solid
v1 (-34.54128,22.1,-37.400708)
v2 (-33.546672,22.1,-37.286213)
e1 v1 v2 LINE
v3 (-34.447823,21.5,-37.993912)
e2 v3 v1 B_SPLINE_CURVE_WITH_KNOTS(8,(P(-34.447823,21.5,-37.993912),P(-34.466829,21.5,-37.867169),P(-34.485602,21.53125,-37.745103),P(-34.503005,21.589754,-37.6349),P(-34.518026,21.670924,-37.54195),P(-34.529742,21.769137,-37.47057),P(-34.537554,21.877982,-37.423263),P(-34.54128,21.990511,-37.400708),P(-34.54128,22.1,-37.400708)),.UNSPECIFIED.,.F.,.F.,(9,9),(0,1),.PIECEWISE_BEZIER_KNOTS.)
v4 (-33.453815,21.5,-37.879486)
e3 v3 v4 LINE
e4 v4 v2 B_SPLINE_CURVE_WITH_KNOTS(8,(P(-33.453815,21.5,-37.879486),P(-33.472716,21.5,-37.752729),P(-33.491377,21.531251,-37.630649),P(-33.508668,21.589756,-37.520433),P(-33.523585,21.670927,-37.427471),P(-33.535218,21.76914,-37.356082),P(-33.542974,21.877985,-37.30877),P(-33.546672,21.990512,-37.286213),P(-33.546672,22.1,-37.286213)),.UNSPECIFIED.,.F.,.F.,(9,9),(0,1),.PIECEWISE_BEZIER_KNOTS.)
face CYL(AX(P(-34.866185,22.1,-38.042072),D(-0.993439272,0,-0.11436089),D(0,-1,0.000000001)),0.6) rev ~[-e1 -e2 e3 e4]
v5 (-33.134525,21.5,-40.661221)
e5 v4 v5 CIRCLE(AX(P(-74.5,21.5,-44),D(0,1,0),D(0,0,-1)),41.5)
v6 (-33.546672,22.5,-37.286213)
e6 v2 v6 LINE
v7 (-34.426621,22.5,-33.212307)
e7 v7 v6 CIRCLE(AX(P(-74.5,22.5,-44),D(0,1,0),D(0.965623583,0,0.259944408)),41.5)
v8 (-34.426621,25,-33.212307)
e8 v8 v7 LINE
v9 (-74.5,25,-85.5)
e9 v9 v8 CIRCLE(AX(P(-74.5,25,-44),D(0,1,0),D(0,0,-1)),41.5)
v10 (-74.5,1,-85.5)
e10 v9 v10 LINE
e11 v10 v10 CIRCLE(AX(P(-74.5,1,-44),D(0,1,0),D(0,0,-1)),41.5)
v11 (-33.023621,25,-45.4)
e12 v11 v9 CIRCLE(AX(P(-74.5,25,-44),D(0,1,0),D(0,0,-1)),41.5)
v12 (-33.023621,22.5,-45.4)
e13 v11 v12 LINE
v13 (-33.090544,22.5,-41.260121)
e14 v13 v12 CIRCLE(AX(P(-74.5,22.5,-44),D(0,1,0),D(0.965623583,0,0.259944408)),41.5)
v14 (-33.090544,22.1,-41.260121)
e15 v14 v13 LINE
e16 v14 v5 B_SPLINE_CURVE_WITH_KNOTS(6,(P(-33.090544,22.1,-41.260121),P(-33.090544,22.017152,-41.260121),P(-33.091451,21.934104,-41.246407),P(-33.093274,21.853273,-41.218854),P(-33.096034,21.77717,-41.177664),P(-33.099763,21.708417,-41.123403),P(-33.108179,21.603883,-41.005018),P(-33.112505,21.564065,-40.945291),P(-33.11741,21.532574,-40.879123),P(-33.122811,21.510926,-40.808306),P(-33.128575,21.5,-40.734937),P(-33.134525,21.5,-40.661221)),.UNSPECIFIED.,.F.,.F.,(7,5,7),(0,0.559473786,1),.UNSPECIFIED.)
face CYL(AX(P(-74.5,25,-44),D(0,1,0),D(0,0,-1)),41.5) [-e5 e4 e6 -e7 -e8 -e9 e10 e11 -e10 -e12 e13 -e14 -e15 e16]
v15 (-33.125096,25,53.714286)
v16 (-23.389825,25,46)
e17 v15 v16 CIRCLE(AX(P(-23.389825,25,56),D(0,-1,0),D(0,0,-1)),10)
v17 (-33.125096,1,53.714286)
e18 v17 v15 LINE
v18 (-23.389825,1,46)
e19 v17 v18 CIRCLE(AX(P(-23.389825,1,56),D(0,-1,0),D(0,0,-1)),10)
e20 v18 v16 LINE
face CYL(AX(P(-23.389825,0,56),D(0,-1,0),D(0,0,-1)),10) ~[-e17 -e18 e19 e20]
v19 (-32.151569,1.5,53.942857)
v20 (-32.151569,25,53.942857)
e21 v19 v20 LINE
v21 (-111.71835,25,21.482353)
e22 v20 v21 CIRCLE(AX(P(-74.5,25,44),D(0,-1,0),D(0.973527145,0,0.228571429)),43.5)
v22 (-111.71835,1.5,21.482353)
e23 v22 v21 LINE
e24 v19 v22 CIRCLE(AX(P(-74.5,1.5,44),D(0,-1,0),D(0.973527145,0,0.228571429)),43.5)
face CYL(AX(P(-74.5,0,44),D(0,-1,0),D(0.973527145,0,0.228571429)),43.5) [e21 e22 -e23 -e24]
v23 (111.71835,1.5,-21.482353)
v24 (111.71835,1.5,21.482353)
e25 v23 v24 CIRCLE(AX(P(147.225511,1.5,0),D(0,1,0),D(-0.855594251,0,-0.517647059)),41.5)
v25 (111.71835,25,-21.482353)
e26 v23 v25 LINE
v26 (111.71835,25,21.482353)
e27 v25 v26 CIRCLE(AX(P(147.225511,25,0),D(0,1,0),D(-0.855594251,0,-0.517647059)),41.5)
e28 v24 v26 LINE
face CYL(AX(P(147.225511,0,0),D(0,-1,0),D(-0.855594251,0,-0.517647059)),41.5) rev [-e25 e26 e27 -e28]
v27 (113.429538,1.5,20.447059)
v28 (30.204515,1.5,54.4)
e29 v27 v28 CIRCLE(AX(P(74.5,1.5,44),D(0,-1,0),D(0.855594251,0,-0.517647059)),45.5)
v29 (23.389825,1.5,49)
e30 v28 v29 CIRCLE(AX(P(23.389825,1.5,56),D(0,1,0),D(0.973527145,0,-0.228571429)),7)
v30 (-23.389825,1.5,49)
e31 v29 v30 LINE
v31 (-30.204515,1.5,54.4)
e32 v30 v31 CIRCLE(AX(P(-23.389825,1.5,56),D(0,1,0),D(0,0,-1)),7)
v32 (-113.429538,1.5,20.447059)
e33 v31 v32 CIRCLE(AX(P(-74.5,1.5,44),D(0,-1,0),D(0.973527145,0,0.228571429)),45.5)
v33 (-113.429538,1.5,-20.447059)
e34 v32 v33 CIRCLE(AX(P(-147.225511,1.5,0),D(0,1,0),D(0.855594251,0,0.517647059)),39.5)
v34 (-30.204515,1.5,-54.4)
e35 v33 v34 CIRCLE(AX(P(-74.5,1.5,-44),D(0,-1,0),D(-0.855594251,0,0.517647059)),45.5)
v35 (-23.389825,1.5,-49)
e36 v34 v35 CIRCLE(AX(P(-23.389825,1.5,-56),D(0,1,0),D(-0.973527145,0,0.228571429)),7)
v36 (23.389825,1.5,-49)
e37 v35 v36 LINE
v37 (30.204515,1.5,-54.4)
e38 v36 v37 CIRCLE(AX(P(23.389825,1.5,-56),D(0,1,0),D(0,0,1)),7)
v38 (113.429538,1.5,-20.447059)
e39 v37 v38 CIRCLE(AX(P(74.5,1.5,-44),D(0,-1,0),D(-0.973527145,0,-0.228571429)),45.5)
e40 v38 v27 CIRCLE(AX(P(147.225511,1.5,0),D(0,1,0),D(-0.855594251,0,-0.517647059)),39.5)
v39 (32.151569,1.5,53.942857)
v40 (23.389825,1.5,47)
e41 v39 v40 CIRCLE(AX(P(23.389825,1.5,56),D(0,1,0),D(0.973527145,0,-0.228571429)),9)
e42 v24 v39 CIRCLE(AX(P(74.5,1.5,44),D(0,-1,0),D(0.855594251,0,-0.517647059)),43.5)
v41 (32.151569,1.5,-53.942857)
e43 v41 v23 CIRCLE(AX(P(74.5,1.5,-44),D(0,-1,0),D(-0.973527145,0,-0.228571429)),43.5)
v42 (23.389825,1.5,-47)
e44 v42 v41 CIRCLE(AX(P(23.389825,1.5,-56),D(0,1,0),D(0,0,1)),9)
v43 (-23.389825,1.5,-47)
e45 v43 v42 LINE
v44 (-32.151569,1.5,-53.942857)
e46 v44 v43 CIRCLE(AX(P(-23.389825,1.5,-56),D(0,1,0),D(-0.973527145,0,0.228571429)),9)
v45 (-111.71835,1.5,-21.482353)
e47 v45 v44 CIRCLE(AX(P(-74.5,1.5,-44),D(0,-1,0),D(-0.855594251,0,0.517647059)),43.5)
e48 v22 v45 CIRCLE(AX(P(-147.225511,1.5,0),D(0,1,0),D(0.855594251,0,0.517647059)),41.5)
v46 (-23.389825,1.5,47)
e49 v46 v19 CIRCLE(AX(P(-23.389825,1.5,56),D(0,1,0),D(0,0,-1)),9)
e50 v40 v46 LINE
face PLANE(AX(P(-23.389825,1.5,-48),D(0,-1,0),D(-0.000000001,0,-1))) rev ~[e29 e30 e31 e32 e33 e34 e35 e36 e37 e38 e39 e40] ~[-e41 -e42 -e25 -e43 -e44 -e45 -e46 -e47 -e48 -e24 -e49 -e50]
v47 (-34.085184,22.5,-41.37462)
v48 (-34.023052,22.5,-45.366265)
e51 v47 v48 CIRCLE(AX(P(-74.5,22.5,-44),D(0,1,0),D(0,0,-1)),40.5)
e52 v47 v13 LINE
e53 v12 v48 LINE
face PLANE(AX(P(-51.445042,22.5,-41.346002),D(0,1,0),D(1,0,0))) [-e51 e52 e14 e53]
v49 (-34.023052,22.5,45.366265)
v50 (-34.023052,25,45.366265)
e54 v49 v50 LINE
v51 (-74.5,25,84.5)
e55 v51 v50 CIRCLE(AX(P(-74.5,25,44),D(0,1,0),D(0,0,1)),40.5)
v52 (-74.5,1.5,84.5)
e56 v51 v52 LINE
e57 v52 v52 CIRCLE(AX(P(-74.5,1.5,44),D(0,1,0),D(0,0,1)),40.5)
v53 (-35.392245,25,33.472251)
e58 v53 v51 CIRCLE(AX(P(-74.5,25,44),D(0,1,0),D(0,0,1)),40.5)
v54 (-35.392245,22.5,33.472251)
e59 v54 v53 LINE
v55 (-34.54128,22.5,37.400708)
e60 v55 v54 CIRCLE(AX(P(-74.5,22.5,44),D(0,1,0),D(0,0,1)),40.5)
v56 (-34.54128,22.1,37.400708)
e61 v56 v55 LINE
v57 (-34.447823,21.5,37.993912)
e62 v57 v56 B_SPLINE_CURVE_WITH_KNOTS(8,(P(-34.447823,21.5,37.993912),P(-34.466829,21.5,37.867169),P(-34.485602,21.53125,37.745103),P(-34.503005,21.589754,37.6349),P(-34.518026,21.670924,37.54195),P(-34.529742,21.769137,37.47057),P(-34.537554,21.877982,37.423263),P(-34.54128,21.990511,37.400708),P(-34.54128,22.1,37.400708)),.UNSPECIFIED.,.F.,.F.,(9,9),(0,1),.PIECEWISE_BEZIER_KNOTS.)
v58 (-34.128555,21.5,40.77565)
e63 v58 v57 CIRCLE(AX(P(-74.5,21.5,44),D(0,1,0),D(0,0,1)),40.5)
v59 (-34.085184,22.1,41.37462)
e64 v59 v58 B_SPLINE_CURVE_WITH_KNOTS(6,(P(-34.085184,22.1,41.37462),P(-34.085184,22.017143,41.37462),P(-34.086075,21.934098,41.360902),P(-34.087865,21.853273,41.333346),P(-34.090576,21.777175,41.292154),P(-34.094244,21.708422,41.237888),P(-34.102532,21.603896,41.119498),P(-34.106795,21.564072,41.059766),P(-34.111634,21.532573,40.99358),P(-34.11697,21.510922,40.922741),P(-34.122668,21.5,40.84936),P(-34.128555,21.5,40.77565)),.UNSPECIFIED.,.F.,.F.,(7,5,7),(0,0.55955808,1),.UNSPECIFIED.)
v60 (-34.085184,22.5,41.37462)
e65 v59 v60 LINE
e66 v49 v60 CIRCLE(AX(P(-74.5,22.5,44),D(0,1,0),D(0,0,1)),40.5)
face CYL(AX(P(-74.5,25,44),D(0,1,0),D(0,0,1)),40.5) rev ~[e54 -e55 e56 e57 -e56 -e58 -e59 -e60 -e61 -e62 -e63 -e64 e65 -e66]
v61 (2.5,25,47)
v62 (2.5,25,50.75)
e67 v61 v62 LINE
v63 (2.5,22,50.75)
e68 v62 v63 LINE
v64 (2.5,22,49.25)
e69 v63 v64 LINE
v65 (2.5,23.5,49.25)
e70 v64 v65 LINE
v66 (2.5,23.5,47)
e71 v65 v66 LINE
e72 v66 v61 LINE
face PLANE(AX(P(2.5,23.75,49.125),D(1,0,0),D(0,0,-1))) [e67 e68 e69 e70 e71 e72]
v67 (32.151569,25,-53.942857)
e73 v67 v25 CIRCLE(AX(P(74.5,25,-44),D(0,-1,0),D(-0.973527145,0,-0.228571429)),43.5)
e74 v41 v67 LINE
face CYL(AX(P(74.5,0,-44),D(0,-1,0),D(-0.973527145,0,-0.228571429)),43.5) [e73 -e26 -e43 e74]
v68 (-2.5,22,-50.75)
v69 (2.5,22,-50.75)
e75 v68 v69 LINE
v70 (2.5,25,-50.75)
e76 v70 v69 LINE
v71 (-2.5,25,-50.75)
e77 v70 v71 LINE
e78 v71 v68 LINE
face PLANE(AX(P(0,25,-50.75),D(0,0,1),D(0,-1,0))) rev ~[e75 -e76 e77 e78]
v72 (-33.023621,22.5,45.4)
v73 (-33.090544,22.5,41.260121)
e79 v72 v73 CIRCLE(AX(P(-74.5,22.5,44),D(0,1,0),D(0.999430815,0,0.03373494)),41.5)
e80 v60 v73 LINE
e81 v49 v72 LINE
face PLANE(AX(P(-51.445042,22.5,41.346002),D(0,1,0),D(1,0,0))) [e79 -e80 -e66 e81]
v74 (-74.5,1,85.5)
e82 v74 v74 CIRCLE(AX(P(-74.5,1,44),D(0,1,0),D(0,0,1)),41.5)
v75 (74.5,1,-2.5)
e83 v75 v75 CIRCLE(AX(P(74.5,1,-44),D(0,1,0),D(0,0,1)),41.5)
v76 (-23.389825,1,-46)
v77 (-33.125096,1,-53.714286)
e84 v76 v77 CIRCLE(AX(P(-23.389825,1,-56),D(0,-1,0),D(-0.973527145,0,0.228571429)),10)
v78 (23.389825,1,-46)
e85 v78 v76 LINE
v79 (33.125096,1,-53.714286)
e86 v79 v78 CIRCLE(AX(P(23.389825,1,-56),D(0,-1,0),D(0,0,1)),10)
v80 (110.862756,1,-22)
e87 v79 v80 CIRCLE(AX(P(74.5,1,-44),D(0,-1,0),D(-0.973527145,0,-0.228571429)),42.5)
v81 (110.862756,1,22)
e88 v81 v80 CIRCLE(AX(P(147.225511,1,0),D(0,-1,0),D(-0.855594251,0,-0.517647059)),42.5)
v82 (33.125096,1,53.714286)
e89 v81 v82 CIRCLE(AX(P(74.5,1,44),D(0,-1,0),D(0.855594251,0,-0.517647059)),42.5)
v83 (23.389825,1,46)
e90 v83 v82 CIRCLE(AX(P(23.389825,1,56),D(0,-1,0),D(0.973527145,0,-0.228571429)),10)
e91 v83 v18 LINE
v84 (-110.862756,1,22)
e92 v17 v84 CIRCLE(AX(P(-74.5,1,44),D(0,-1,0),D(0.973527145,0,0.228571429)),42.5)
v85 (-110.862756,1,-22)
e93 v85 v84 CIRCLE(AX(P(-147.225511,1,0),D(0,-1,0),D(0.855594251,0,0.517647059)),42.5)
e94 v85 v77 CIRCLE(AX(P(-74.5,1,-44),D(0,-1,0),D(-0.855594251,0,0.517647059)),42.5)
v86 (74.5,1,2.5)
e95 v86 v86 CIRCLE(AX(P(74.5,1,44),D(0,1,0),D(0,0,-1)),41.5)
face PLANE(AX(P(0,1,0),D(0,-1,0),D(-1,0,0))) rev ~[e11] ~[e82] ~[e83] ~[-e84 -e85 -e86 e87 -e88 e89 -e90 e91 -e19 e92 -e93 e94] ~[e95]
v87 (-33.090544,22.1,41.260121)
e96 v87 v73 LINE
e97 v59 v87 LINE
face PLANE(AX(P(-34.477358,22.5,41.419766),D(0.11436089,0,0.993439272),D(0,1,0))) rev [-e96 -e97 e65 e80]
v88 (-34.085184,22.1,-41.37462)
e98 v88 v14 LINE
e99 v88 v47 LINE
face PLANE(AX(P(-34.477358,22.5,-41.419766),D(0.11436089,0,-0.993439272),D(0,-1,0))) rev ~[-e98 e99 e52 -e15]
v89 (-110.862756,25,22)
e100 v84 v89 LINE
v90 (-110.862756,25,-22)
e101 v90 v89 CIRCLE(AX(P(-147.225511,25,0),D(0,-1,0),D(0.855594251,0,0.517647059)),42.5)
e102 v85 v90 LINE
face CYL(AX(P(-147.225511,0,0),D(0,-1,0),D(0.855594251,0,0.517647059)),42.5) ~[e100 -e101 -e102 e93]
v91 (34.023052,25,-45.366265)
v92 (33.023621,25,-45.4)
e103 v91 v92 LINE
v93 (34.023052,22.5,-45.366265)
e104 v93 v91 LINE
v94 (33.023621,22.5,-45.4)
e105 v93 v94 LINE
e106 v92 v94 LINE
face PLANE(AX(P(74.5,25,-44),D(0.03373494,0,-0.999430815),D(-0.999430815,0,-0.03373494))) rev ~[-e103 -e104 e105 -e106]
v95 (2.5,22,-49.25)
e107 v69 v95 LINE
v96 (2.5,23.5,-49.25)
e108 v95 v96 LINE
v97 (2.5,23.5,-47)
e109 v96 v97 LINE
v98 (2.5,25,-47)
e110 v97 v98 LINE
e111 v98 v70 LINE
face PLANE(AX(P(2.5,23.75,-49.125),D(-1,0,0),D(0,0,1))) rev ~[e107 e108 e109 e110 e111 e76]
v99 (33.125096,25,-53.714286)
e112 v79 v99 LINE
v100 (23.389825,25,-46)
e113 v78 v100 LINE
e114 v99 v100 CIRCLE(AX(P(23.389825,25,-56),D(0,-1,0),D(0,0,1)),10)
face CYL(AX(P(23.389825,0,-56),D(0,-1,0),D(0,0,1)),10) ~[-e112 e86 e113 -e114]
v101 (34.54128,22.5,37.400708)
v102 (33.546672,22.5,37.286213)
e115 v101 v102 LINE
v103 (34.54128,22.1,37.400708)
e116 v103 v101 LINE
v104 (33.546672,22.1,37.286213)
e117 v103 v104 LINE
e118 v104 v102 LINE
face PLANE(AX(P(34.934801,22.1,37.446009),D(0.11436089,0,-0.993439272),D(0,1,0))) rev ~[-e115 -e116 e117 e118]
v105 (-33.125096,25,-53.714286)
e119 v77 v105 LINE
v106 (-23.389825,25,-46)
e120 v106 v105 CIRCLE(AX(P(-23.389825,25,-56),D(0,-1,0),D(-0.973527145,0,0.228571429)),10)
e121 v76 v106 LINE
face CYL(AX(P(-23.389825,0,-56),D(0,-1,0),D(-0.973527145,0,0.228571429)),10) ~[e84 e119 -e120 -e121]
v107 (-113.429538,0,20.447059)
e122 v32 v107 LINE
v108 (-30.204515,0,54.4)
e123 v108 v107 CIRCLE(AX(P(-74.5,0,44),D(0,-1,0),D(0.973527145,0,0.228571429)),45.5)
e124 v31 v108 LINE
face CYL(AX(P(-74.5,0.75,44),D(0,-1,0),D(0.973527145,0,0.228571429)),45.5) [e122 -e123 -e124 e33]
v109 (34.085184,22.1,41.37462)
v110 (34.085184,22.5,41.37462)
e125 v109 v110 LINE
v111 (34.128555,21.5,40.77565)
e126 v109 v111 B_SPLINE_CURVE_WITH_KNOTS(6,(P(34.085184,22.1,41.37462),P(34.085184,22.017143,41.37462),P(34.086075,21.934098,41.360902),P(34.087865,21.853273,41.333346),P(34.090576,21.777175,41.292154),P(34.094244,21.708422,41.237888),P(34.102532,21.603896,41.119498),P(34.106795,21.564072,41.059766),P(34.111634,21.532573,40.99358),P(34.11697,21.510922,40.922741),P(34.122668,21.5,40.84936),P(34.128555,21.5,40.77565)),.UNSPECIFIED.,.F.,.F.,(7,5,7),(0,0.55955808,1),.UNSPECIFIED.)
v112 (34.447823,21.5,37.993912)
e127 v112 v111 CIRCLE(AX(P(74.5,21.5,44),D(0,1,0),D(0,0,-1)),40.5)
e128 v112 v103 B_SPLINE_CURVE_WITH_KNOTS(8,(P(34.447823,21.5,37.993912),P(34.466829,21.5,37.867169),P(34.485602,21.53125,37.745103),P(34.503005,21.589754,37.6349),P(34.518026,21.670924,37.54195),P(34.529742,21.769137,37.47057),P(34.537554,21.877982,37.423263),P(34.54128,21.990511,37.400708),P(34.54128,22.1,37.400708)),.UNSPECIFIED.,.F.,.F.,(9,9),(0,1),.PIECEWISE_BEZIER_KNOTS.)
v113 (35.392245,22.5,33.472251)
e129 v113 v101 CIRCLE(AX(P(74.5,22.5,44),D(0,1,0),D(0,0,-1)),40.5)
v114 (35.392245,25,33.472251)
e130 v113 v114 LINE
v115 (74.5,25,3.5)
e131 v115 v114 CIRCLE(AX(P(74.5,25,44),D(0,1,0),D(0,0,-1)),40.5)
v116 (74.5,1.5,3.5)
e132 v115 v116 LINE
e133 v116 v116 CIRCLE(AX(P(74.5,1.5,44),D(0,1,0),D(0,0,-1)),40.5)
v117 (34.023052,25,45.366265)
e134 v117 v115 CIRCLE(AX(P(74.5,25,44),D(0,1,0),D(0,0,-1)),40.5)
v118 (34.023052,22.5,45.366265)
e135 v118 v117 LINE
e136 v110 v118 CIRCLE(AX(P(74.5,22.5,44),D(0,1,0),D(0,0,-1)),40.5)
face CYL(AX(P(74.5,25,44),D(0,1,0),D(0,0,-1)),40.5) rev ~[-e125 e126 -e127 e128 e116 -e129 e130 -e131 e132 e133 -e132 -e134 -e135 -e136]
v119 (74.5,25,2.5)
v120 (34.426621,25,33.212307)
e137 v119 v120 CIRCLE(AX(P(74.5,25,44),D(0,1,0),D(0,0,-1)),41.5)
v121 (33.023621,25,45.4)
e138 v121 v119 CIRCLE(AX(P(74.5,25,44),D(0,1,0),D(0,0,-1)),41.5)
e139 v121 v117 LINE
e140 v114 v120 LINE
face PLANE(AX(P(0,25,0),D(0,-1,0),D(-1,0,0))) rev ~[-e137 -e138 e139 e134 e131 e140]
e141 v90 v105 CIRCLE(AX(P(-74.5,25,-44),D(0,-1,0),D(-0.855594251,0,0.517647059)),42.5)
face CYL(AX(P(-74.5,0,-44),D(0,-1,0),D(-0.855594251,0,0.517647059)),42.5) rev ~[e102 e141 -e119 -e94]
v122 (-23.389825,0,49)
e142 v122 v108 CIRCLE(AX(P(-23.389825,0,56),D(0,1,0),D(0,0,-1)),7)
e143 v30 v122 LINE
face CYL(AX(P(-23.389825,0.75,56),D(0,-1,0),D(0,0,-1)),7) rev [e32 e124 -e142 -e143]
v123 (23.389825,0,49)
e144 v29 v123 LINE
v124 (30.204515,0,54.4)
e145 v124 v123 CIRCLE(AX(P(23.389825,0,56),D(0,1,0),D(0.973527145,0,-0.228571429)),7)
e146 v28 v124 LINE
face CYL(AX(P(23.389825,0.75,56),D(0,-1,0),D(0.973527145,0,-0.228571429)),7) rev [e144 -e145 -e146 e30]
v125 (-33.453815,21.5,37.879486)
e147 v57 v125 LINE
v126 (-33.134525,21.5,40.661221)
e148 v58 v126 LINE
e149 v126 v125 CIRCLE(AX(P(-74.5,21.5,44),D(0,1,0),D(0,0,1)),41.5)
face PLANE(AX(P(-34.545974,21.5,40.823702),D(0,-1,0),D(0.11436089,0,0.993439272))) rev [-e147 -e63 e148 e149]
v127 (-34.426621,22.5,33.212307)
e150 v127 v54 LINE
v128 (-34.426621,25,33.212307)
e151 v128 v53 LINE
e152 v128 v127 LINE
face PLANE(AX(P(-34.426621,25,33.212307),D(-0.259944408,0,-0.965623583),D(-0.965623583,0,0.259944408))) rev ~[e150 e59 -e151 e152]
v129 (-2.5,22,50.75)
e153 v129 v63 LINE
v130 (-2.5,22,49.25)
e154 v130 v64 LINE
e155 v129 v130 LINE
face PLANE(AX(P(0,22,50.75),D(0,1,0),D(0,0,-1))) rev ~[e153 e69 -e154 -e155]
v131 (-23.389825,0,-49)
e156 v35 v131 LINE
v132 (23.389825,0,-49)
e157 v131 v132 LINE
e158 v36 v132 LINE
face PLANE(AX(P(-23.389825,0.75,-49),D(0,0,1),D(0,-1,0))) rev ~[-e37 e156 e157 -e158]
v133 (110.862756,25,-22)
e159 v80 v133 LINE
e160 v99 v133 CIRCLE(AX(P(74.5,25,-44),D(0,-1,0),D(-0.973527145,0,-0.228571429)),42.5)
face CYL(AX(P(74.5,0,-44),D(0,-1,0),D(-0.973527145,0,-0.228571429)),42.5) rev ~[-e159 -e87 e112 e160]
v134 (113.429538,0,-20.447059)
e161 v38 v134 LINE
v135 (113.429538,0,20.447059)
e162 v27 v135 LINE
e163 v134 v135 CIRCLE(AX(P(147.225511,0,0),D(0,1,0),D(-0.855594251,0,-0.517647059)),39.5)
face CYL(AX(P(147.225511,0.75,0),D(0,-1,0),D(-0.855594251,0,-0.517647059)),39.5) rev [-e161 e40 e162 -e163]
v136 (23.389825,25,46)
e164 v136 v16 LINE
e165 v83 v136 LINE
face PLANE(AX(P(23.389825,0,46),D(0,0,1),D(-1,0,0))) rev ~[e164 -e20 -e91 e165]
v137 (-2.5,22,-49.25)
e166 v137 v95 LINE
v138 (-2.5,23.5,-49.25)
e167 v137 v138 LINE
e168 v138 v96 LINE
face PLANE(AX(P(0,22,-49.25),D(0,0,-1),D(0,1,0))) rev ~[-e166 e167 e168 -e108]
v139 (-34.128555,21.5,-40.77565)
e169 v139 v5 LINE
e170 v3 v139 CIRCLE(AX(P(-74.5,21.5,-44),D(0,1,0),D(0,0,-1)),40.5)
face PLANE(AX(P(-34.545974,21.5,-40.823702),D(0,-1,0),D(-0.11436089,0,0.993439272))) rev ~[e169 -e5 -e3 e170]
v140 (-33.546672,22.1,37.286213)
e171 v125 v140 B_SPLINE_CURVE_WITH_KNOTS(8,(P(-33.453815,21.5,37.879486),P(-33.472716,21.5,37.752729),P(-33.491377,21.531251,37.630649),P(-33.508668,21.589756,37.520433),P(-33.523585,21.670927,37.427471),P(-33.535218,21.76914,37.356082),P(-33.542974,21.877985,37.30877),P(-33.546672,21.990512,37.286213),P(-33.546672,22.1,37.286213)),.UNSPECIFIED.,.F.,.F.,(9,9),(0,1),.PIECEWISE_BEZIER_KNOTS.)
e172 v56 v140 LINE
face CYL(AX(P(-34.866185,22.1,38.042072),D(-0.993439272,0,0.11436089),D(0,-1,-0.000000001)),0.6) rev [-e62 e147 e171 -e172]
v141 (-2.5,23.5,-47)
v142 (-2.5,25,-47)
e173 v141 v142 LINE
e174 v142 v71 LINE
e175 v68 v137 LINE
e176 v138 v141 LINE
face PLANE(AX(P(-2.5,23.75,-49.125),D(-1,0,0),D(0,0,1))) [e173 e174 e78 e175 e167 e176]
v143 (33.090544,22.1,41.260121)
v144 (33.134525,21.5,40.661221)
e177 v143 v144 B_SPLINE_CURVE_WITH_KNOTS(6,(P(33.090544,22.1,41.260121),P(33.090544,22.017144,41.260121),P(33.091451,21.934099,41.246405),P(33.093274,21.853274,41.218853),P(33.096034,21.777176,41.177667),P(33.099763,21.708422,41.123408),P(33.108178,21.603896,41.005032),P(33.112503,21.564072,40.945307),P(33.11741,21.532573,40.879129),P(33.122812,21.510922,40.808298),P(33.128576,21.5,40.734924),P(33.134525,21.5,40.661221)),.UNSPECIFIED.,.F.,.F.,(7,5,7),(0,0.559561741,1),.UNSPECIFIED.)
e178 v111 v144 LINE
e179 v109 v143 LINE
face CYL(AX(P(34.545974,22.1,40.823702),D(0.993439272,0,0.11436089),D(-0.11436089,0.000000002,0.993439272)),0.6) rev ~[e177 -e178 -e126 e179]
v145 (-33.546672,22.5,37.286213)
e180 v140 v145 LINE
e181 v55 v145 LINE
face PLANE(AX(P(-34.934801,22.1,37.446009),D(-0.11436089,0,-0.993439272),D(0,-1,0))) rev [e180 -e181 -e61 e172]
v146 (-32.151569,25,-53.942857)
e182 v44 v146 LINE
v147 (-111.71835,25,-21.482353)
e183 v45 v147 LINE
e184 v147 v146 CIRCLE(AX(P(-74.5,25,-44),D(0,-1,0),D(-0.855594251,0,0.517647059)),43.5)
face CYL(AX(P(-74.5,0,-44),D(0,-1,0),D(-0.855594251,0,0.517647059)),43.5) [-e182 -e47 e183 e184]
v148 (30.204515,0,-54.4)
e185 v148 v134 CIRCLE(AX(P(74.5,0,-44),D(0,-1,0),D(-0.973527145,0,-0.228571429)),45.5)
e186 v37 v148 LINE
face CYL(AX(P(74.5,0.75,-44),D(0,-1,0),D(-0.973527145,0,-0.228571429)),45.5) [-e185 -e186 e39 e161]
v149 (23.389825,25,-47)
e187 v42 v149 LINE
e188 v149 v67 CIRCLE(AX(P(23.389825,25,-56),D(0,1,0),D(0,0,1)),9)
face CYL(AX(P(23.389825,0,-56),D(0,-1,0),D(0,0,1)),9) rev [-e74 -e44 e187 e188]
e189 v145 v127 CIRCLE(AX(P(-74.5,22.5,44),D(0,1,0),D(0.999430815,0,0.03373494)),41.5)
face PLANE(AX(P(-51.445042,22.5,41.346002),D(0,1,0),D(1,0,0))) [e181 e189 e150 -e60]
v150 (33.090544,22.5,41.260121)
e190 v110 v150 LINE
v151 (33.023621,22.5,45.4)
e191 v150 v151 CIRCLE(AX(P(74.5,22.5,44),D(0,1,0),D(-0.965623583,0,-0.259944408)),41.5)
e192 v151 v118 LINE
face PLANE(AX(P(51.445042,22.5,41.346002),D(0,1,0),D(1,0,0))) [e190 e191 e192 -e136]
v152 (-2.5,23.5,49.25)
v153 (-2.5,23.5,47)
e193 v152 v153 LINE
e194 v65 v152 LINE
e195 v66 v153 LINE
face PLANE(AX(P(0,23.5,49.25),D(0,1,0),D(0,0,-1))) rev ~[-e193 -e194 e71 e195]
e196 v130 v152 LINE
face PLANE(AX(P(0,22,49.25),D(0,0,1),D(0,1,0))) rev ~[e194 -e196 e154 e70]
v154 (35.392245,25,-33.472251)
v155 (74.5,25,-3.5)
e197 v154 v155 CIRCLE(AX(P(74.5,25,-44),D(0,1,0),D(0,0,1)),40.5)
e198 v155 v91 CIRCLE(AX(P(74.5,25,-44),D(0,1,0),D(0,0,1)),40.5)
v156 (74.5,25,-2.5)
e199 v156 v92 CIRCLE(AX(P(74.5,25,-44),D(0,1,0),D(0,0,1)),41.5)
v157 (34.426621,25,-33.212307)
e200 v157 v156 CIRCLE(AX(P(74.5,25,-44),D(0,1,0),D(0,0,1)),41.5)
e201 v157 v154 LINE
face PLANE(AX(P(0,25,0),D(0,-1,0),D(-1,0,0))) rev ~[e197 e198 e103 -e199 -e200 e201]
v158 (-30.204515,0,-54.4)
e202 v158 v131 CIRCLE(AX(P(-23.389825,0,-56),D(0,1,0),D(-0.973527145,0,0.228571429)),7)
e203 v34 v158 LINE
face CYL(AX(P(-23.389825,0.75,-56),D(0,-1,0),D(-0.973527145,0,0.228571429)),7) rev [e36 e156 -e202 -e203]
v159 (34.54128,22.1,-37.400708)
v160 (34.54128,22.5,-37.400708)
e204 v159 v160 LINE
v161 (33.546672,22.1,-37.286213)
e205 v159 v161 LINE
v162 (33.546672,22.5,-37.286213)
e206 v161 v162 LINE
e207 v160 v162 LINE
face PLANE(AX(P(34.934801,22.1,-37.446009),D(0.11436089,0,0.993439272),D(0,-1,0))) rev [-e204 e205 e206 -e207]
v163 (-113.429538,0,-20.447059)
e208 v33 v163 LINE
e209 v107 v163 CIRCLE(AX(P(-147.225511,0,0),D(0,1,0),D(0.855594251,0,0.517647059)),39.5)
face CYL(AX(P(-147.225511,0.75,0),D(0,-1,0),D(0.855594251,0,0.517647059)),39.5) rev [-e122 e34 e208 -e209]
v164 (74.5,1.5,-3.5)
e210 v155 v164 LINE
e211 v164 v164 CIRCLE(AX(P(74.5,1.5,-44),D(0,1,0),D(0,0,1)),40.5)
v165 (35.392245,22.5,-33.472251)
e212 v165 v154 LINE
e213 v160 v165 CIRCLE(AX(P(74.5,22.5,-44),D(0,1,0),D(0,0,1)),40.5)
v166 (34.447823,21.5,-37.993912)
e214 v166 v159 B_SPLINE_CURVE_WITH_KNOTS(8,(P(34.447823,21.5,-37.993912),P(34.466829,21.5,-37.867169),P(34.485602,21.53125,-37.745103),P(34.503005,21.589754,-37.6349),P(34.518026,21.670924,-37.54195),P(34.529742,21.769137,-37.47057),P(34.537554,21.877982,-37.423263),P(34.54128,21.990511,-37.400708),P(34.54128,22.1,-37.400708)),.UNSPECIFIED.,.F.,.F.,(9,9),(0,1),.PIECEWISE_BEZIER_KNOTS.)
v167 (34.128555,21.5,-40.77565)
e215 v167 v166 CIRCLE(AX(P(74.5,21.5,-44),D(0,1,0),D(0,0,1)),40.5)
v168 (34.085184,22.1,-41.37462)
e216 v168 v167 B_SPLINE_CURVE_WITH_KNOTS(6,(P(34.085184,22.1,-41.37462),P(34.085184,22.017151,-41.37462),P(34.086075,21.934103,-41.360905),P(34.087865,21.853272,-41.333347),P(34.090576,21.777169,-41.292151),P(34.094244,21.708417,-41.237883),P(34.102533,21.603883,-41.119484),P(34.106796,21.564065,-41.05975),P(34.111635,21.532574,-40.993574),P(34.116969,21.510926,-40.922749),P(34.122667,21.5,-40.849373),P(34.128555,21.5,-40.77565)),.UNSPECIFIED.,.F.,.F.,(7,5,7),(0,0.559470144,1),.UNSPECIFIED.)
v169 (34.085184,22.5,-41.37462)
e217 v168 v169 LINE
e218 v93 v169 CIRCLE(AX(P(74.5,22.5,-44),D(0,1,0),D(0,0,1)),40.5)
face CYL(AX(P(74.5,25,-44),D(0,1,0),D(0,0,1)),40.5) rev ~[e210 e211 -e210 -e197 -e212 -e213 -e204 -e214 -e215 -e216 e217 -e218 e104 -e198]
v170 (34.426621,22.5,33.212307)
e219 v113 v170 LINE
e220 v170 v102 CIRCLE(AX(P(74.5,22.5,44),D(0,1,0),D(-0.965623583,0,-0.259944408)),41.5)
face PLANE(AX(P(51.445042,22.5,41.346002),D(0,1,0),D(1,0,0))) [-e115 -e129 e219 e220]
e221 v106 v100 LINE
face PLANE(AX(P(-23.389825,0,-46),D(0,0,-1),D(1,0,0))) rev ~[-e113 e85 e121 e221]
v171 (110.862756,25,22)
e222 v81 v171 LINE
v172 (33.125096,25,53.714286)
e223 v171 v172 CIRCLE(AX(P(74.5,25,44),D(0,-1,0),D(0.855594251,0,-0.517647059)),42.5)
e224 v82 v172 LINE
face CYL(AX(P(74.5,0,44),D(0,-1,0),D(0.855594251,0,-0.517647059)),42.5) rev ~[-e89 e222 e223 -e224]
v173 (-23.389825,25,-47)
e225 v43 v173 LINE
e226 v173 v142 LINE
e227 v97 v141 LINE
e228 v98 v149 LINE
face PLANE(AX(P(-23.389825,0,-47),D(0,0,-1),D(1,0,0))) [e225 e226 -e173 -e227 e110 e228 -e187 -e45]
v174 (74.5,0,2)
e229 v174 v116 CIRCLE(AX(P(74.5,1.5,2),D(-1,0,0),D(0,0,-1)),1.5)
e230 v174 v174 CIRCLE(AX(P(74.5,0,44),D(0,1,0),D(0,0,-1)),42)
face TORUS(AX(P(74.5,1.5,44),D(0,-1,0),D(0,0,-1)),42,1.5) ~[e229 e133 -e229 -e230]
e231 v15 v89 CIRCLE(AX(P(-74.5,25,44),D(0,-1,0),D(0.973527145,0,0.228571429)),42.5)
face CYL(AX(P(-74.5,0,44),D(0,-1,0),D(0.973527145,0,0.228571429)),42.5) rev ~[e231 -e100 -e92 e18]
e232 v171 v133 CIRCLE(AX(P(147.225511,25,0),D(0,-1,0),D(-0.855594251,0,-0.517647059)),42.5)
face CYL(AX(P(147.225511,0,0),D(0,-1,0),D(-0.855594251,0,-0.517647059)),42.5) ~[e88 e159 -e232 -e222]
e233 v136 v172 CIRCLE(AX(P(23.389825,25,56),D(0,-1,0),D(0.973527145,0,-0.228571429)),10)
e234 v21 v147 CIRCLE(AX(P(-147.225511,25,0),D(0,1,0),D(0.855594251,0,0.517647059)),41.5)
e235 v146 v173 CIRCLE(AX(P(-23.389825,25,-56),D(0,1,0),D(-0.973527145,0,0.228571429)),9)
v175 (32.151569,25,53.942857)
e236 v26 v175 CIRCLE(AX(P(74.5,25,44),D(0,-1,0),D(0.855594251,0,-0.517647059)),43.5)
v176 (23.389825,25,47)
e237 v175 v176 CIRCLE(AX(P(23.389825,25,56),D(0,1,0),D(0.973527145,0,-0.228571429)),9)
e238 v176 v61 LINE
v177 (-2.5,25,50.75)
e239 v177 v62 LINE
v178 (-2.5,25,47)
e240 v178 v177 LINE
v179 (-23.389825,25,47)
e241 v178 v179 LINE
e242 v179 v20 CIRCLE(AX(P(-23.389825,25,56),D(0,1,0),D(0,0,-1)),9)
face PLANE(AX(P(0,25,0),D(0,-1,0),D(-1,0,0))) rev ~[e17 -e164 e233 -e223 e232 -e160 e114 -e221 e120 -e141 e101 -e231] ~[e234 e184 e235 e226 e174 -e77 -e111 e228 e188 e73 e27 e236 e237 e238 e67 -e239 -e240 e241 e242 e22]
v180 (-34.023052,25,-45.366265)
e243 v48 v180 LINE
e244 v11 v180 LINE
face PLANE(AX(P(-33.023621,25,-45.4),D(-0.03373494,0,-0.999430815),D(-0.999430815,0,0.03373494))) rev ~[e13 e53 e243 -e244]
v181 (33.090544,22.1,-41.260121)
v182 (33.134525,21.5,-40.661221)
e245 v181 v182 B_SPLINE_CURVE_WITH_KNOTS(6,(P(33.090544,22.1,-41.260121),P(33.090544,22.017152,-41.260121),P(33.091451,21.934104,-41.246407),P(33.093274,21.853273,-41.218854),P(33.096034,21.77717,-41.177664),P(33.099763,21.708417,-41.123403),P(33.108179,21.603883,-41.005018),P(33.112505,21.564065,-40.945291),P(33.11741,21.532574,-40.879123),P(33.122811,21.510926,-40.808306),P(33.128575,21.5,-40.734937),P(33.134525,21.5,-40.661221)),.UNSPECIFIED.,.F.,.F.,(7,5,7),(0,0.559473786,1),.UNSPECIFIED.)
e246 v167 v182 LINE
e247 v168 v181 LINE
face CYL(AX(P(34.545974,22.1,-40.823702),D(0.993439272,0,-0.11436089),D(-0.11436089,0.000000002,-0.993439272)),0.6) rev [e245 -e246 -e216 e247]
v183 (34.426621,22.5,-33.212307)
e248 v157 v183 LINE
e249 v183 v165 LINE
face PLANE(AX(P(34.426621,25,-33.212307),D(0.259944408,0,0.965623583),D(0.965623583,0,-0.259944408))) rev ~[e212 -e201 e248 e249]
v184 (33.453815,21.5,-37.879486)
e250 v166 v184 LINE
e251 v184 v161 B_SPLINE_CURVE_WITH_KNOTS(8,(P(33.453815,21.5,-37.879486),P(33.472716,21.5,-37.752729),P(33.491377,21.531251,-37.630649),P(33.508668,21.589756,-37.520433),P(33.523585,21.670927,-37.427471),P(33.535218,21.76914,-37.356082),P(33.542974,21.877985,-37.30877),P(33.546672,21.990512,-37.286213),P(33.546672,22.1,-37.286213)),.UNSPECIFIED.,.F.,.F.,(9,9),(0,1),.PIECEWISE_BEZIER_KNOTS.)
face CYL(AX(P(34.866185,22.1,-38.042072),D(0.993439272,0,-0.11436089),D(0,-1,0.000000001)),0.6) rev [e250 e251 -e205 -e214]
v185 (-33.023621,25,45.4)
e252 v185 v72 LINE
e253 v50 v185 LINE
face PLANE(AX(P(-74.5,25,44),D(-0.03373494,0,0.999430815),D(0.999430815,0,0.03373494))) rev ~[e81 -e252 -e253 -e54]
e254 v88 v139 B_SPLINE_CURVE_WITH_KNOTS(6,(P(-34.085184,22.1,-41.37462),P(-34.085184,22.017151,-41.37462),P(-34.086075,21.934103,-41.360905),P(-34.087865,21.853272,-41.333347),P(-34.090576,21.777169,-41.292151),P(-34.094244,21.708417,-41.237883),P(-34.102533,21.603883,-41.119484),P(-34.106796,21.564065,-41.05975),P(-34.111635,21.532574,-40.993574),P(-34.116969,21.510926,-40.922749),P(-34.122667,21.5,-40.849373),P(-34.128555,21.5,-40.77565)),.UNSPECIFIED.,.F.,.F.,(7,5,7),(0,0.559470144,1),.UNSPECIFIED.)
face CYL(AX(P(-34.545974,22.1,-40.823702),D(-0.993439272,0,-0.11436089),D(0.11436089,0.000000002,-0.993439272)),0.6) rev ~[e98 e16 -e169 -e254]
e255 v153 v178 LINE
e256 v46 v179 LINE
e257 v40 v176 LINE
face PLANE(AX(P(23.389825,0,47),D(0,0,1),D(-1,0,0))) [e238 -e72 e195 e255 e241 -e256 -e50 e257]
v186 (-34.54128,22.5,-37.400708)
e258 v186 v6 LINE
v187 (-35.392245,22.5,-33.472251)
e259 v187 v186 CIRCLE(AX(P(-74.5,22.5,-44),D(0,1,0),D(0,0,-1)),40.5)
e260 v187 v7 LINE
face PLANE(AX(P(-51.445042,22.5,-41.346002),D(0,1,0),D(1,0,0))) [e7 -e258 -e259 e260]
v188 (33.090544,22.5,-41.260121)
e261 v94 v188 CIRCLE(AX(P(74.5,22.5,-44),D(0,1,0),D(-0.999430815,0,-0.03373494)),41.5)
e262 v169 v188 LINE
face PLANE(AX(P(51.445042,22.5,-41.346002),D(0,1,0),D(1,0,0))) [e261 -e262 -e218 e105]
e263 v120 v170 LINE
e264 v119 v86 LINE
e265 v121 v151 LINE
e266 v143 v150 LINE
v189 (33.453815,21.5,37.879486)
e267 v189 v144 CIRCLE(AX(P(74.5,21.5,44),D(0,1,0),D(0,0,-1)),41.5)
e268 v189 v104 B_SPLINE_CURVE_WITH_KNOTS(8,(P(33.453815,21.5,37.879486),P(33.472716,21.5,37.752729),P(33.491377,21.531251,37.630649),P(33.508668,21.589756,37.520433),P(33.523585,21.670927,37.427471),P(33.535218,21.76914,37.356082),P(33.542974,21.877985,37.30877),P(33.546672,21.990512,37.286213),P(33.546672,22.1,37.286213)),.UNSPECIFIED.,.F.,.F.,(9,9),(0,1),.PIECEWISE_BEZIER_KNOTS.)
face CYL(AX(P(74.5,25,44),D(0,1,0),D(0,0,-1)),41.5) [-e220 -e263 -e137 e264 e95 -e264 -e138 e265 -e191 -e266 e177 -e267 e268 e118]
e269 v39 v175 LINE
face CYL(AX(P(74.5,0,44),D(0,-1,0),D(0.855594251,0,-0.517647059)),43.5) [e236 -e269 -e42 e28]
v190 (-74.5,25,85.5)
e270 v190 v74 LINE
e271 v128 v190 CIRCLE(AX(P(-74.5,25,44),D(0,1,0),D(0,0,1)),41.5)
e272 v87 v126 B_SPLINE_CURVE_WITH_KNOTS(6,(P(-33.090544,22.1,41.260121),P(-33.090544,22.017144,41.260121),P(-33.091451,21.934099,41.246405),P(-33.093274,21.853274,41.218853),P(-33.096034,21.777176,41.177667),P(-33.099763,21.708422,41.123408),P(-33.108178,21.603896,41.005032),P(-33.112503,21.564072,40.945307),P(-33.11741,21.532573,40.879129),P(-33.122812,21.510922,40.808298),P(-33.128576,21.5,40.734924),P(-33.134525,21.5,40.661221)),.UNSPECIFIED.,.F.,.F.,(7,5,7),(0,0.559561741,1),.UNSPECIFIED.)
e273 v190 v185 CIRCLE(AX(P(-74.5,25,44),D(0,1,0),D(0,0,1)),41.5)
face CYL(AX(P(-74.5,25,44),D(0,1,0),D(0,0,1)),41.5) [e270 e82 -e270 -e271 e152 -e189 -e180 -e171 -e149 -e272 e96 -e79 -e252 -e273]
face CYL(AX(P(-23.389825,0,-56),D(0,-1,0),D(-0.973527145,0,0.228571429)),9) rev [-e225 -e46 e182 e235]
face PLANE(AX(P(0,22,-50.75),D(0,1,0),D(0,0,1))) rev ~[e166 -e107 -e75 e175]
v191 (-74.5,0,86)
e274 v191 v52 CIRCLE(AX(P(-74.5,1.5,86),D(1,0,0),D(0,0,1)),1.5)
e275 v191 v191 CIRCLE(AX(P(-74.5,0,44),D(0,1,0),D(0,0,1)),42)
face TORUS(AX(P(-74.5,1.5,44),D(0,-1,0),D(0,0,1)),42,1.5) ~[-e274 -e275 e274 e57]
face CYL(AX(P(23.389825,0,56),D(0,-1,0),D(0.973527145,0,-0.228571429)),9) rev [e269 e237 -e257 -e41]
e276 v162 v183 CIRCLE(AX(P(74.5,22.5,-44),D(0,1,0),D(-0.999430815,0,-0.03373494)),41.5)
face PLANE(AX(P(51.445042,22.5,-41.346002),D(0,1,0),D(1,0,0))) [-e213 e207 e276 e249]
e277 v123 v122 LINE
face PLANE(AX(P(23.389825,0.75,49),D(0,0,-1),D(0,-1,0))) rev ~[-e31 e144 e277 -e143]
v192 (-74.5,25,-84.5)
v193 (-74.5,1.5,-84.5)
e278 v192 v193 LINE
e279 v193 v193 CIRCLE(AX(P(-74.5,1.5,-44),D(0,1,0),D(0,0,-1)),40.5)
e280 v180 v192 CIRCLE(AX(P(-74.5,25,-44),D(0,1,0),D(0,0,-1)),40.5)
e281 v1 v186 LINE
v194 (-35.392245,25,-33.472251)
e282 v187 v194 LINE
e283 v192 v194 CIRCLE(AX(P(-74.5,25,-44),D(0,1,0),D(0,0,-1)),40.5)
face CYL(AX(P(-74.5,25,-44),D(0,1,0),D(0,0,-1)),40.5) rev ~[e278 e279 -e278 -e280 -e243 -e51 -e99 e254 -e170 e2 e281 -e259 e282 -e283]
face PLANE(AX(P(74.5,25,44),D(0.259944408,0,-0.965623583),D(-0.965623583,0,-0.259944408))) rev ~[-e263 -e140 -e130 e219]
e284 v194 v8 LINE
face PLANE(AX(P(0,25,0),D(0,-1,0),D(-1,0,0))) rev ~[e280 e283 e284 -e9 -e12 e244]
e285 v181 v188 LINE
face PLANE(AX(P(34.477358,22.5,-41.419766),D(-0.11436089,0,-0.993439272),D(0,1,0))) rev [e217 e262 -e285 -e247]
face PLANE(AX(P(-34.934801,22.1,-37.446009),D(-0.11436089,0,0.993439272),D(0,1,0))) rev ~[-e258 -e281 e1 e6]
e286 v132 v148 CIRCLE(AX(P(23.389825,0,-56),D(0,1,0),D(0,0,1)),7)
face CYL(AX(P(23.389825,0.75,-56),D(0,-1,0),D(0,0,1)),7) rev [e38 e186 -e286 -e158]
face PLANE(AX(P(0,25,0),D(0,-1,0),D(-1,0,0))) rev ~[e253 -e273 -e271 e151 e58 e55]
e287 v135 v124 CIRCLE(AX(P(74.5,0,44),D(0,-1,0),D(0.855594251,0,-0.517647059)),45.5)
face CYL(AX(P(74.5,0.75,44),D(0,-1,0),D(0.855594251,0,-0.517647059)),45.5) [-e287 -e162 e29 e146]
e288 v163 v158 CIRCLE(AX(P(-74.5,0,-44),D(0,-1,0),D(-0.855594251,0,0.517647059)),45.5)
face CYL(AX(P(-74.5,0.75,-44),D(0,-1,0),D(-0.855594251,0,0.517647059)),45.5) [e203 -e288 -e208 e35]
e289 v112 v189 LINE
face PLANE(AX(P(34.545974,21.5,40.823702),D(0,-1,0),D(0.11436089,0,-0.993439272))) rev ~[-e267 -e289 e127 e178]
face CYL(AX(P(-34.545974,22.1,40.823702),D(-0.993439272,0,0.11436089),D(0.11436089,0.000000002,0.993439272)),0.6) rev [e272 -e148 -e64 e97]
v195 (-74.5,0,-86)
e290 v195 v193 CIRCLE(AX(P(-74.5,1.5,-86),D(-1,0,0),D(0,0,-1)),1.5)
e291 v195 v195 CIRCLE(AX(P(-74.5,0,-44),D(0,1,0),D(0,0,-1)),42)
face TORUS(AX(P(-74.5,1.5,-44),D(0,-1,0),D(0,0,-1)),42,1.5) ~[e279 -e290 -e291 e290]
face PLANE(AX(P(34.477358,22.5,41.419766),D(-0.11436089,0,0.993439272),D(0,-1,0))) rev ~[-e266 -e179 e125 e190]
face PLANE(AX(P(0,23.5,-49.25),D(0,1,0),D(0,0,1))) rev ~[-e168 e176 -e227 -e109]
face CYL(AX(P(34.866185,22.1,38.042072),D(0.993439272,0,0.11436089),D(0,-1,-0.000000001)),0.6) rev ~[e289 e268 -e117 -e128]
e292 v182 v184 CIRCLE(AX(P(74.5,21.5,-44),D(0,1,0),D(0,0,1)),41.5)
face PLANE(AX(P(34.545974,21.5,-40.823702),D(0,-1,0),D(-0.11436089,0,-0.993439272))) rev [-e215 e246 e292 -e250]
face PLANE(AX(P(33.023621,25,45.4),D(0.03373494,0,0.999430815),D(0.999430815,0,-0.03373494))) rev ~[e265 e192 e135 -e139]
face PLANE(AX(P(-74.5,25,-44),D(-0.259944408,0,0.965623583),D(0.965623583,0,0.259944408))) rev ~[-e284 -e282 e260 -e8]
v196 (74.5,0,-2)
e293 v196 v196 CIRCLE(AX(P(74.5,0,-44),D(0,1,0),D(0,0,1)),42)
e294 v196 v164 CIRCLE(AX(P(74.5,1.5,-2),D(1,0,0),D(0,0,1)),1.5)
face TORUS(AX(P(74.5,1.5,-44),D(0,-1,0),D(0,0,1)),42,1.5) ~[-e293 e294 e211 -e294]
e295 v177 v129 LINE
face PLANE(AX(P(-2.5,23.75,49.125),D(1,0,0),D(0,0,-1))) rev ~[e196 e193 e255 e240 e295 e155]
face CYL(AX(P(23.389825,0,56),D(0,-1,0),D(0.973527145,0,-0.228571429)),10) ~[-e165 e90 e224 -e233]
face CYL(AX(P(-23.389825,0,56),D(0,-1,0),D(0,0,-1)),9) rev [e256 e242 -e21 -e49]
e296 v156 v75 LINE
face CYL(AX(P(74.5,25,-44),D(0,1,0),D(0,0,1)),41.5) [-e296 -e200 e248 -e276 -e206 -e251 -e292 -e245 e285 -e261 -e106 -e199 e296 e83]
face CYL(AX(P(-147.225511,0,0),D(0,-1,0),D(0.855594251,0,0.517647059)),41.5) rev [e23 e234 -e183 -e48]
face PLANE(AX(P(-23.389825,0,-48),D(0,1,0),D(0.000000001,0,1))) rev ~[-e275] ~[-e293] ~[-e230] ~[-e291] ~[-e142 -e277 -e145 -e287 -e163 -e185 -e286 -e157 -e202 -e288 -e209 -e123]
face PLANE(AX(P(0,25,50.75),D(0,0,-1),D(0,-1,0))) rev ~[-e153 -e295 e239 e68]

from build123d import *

# Parameters (mm, degrees)
BASE_DEPTH                                  = 25
SKETCH3_R                                   = 40.5
PROPHOLES_DEPTH                             = 25
SHELL2_T                                    = -1
SKETCH4_W                                   = 2
SKETCH4_H                                   = 1.5
HOOKS_DEPTH                                 = 2.5
FILLET1_R                                   = 1.5
ARMHOLES_DEPTH                              = 2.5
ARMDETAILCUT_DEPTH                          = 2.5
ARMDETAILS_AT_THE_SECOND_PLANE_COPY_1_DEPTH = 2.5


with BuildPart() as part:
    # Sketch1 → Base (new body)
    with BuildSketch(Plane(origin=(0, 0, 0), x_dir=(1, 0, 0), z_dir=(0, 1, 0))):
        with BuildLine():
            Line((-23.389824888, 47), (23.389824888, 47))
            ThreePointArc((23.389824888, 47), (28.979355918, 48.946125685), (32.151569193, 53.942857143))
            ThreePointArc((32.151569193, 53.942857143), (90.931692418, 84.277158344), (111.718349922, 21.482352941))
            ThreePointArc((111.718349922, 21.482352941), (105.725511342, 0), (111.718349922, -21.482352941))
            ThreePointArc((111.718349922, -21.482352941), (90.931692418, -84.277158344), (32.151569193, -53.942857143))
            ThreePointArc((32.151569193, -53.942857143), (28.979355918, -48.946125685), (23.389824888, -47))
            Line((23.389824888, -47), (-23.389824888, -47))
            ThreePointArc((-23.389824888, -47), (-28.979355918, -48.946125685), (-32.151569193, -53.942857143))
            ThreePointArc((-32.151569193, -53.942857143), (-90.931692418, -84.277158344), (-111.718349922, -21.482352941))
            ThreePointArc((-111.718349922, -21.482352941), (-105.725511342, 0), (-111.718349922, 21.482352941))
            ThreePointArc((-111.718349922, 21.482352941), (-90.931692418, 84.277158344), (-32.151569193, 53.942857143))
            ThreePointArc((-32.151569193, 53.942857143), (-28.979355918, 48.946125685), (-23.389824888, 47))
        make_face()
    extrude(amount=BASE_DEPTH)

    # Sketch3 → PropHoles (cut)
    with BuildSketch(Plane(origin=(0, 25, 0), x_dir=(1, 0, 0), z_dir=(0, 1, 0))):
        with Locations((74.5, 44)):
            Circle(SKETCH3_R)
        with Locations((74.5, -44)):
            Circle(SKETCH3_R)
        with Locations((-74.5, -44)):
            Circle(SKETCH3_R)
        with Locations((-74.5, 44)):
            Circle(SKETCH3_R)
    extrude(amount=-PROPHOLES_DEPTH, mode=Mode.SUBTRACT)

    # Shell2
    shell2_openings = [part.faces().sort_by_distance(p)[0] for p in [
        (0, 25, 0),
    ]]
    offset(amount=SHELL2_T, openings=shell2_openings, kind=Kind.INTERSECTION)

    # Lip: sweep along a path in Sketch1<2>
    with BuildLine(Plane(origin=(0, 0, 0), x_dir=(1, 0, 0), z_dir=(0, 1, 0))) as lip_path:
        Line((-23.389824888, 47), (23.389824888, 47))
        ThreePointArc((23.389824888, 47), (28.979355918, 48.946125685), (32.151569193, 53.942857143))
        ThreePointArc((32.151569193, 53.942857143), (90.931692418, 84.277158344), (111.718349922, 21.482352941))
        ThreePointArc((111.718349922, 21.482352941), (105.725511342, 0), (111.718349922, -21.482352941))
        ThreePointArc((111.718349922, -21.482352941), (90.931692418, -84.277158344), (32.151569193, -53.942857143))
        ThreePointArc((32.151569193, -53.942857143), (28.979355918, -48.946125685), (23.389824888, -47))
        Line((23.389824888, -47), (-23.389824888, -47))
        ThreePointArc((-23.389824888, -47), (-28.979355918, -48.946125685), (-32.151569193, -53.942857143))
        ThreePointArc((-32.151569193, -53.942857143), (-90.931692418, -84.277158344), (-111.718349922, -21.482352941))
        ThreePointArc((-111.718349922, -21.482352941), (-105.725511342, 0), (-111.718349922, 21.482352941))
        ThreePointArc((-111.718349922, 21.482352941), (-90.931692418, 84.277158344), (-32.151569193, 53.942857143))
        ThreePointArc((-32.151569193, 53.942857143), (-28.979355918, 48.946125685), (-23.389824888, 47))
    # Sketch4 → Lip (sweep)
    with BuildSketch(Plane(origin=(0, 0, 0), x_dir=(0, 0, -1), z_dir=(1, 0, 0))):
        with Locations((-48, 0.75)):
            Rectangle(SKETCH4_W, SKETCH4_H)
    sweep(path=lip_path.line)

    # Sketch5 → Hooks (add, symmetric)
    with BuildSketch(Plane(origin=(0, 0, 0), x_dir=(0, 0, -1), z_dir=(1, 0, 0))):
        Polygon((-47, 25), (-50.75, 25), (-50.75, 22), (-49.25, 22), (-49.25, 23.5), (-47, 23.5), align=None)
        Polygon((49.25, 23.5), (47, 23.5), (47, 25), (50.75, 25), (50.75, 22), (49.25, 22), align=None)
    extrude(amount=HOOKS_DEPTH, both=True)

    # Fillet1
    fillet1_edges = [part.edges().sort_by_distance(p)[0] for p in [
        (-115, 0, -44),
        (34, 0, -44),
        (34, 0, 44),
        (-115, 0, 44),
    ]]
    fillet(fillet1_edges, radius=FILLET1_R)

    # Sketch6 → ArmHoles (cut)
    with BuildSketch(Plane(origin=(0, 25, 0), x_dir=(1, 0, 0), z_dir=(0, 1, 0))):
        with BuildLine():
            Line((74.5, -44), (34.426621288, -33.212307077))
            ThreePointArc((34.426621288, -33.212307077), (33.272270217, -39.25402308), (33.02362118, -45.4))
            Line((33.02362118, -45.4), (74.5, -44))
        make_face()
        with BuildLine():
            Line((74.5, 44), (33.02362118, 45.4))
            ThreePointArc((33.02362118, 45.4), (33.272270217, 39.25402308), (34.426621288, 33.212307077))
            Line((34.426621288, 33.212307077), (74.5, 44))
        make_face()
        with BuildLine():
            Line((-74.5, 44), (-34.426621288, 33.212307077))
            ThreePointArc((-34.426621288, 33.212307077), (-33.272270217, 39.25402308), (-33.02362118, 45.4))
            Line((-33.02362118, 45.4), (-74.5, 44))
        make_face()
        with BuildLine():
            Line((-74.5, -44), (-33.02362118, -45.4))
            ThreePointArc((-33.02362118, -45.4), (-33.272270217, -39.25402308), (-34.426621288, -33.212307077))
            Line((-34.426621288, -33.212307077), (-74.5, -44))
        make_face()
    extrude(amount=-ARMHOLES_DEPTH, mode=Mode.SUBTRACT)

    # Sketch7 → ArmDetailCut (cut)
    with BuildSketch(Plane(origin=(38.732173012, 0, 4.45869807), x_dir=(-0.11436088964892253, 0, 0.9934392718826386), z_dir=(-0.9934392718826385, 0, -0.11436088964892252))):
        with BuildLine():
            Line((36.605160533, 21.5), (33.805160533, 21.5))
            ThreePointArc((33.805160533, 21.5), (33.380896465, 21.675735931), (33.205160533, 22.1))
            Line((33.205160533, 22.1), (33.205160533, 22.5))
            Line((33.205160533, 22.5), (37.205160533, 22.5))
            Line((37.205160533, 22.5), (37.205160533, 22.1))
            ThreePointArc((37.205160533, 22.1), (37.029424602, 21.675735931), (36.605160533, 21.5))
        make_face()
    armdetailcut = extrude(amount=ARMDETAILCUT_DEPTH, mode=Mode.SUBTRACT)

    # ArmDetails: ArmDetailCut across plane
    add(armdetailcut.mirror(Plane.XY), mode=Mode.SUBTRACT)

    # ArmDetails at the second plane: ArmDetailCut across plane
    add(armdetailcut.mirror(Plane(origin=(0, 0, 0), x_dir=(0, 0, 1), z_dir=(1, 0, 0))), mode=Mode.SUBTRACT)

    # ArmDetails at the second plane copy 1 sk → ArmDetails at the second plane copy 1 (cut)
    with BuildSketch(Plane(origin=(-38.732173012, 0, -4.45869807), x_dir=(0.11436088964892253, 0, -0.9934392718826386), z_dir=(0.9934392718826385, 0, 0.11436088964892252))):
        with BuildLine():
            Line((36.605160533, 21.5), (33.805160533, 21.5))
            ThreePointArc((33.805160533, 21.5), (33.380896465, 21.675735931), (33.205160533, 22.1))
            Line((33.205160533, 22.1), (33.205160533, 22.5))
            Line((33.205160533, 22.5), (37.205160533, 22.5))
            Line((37.205160533, 22.5), (37.205160533, 22.1))
            ThreePointArc((37.205160533, 22.1), (37.029424602, 21.675735931), (36.605160533, 21.5))
        make_face()
    extrude(amount=ARMDETAILS_AT_THE_SECOND_PLANE_COPY_1_DEPTH, mode=Mode.SUBTRACT)


solid = part.part
